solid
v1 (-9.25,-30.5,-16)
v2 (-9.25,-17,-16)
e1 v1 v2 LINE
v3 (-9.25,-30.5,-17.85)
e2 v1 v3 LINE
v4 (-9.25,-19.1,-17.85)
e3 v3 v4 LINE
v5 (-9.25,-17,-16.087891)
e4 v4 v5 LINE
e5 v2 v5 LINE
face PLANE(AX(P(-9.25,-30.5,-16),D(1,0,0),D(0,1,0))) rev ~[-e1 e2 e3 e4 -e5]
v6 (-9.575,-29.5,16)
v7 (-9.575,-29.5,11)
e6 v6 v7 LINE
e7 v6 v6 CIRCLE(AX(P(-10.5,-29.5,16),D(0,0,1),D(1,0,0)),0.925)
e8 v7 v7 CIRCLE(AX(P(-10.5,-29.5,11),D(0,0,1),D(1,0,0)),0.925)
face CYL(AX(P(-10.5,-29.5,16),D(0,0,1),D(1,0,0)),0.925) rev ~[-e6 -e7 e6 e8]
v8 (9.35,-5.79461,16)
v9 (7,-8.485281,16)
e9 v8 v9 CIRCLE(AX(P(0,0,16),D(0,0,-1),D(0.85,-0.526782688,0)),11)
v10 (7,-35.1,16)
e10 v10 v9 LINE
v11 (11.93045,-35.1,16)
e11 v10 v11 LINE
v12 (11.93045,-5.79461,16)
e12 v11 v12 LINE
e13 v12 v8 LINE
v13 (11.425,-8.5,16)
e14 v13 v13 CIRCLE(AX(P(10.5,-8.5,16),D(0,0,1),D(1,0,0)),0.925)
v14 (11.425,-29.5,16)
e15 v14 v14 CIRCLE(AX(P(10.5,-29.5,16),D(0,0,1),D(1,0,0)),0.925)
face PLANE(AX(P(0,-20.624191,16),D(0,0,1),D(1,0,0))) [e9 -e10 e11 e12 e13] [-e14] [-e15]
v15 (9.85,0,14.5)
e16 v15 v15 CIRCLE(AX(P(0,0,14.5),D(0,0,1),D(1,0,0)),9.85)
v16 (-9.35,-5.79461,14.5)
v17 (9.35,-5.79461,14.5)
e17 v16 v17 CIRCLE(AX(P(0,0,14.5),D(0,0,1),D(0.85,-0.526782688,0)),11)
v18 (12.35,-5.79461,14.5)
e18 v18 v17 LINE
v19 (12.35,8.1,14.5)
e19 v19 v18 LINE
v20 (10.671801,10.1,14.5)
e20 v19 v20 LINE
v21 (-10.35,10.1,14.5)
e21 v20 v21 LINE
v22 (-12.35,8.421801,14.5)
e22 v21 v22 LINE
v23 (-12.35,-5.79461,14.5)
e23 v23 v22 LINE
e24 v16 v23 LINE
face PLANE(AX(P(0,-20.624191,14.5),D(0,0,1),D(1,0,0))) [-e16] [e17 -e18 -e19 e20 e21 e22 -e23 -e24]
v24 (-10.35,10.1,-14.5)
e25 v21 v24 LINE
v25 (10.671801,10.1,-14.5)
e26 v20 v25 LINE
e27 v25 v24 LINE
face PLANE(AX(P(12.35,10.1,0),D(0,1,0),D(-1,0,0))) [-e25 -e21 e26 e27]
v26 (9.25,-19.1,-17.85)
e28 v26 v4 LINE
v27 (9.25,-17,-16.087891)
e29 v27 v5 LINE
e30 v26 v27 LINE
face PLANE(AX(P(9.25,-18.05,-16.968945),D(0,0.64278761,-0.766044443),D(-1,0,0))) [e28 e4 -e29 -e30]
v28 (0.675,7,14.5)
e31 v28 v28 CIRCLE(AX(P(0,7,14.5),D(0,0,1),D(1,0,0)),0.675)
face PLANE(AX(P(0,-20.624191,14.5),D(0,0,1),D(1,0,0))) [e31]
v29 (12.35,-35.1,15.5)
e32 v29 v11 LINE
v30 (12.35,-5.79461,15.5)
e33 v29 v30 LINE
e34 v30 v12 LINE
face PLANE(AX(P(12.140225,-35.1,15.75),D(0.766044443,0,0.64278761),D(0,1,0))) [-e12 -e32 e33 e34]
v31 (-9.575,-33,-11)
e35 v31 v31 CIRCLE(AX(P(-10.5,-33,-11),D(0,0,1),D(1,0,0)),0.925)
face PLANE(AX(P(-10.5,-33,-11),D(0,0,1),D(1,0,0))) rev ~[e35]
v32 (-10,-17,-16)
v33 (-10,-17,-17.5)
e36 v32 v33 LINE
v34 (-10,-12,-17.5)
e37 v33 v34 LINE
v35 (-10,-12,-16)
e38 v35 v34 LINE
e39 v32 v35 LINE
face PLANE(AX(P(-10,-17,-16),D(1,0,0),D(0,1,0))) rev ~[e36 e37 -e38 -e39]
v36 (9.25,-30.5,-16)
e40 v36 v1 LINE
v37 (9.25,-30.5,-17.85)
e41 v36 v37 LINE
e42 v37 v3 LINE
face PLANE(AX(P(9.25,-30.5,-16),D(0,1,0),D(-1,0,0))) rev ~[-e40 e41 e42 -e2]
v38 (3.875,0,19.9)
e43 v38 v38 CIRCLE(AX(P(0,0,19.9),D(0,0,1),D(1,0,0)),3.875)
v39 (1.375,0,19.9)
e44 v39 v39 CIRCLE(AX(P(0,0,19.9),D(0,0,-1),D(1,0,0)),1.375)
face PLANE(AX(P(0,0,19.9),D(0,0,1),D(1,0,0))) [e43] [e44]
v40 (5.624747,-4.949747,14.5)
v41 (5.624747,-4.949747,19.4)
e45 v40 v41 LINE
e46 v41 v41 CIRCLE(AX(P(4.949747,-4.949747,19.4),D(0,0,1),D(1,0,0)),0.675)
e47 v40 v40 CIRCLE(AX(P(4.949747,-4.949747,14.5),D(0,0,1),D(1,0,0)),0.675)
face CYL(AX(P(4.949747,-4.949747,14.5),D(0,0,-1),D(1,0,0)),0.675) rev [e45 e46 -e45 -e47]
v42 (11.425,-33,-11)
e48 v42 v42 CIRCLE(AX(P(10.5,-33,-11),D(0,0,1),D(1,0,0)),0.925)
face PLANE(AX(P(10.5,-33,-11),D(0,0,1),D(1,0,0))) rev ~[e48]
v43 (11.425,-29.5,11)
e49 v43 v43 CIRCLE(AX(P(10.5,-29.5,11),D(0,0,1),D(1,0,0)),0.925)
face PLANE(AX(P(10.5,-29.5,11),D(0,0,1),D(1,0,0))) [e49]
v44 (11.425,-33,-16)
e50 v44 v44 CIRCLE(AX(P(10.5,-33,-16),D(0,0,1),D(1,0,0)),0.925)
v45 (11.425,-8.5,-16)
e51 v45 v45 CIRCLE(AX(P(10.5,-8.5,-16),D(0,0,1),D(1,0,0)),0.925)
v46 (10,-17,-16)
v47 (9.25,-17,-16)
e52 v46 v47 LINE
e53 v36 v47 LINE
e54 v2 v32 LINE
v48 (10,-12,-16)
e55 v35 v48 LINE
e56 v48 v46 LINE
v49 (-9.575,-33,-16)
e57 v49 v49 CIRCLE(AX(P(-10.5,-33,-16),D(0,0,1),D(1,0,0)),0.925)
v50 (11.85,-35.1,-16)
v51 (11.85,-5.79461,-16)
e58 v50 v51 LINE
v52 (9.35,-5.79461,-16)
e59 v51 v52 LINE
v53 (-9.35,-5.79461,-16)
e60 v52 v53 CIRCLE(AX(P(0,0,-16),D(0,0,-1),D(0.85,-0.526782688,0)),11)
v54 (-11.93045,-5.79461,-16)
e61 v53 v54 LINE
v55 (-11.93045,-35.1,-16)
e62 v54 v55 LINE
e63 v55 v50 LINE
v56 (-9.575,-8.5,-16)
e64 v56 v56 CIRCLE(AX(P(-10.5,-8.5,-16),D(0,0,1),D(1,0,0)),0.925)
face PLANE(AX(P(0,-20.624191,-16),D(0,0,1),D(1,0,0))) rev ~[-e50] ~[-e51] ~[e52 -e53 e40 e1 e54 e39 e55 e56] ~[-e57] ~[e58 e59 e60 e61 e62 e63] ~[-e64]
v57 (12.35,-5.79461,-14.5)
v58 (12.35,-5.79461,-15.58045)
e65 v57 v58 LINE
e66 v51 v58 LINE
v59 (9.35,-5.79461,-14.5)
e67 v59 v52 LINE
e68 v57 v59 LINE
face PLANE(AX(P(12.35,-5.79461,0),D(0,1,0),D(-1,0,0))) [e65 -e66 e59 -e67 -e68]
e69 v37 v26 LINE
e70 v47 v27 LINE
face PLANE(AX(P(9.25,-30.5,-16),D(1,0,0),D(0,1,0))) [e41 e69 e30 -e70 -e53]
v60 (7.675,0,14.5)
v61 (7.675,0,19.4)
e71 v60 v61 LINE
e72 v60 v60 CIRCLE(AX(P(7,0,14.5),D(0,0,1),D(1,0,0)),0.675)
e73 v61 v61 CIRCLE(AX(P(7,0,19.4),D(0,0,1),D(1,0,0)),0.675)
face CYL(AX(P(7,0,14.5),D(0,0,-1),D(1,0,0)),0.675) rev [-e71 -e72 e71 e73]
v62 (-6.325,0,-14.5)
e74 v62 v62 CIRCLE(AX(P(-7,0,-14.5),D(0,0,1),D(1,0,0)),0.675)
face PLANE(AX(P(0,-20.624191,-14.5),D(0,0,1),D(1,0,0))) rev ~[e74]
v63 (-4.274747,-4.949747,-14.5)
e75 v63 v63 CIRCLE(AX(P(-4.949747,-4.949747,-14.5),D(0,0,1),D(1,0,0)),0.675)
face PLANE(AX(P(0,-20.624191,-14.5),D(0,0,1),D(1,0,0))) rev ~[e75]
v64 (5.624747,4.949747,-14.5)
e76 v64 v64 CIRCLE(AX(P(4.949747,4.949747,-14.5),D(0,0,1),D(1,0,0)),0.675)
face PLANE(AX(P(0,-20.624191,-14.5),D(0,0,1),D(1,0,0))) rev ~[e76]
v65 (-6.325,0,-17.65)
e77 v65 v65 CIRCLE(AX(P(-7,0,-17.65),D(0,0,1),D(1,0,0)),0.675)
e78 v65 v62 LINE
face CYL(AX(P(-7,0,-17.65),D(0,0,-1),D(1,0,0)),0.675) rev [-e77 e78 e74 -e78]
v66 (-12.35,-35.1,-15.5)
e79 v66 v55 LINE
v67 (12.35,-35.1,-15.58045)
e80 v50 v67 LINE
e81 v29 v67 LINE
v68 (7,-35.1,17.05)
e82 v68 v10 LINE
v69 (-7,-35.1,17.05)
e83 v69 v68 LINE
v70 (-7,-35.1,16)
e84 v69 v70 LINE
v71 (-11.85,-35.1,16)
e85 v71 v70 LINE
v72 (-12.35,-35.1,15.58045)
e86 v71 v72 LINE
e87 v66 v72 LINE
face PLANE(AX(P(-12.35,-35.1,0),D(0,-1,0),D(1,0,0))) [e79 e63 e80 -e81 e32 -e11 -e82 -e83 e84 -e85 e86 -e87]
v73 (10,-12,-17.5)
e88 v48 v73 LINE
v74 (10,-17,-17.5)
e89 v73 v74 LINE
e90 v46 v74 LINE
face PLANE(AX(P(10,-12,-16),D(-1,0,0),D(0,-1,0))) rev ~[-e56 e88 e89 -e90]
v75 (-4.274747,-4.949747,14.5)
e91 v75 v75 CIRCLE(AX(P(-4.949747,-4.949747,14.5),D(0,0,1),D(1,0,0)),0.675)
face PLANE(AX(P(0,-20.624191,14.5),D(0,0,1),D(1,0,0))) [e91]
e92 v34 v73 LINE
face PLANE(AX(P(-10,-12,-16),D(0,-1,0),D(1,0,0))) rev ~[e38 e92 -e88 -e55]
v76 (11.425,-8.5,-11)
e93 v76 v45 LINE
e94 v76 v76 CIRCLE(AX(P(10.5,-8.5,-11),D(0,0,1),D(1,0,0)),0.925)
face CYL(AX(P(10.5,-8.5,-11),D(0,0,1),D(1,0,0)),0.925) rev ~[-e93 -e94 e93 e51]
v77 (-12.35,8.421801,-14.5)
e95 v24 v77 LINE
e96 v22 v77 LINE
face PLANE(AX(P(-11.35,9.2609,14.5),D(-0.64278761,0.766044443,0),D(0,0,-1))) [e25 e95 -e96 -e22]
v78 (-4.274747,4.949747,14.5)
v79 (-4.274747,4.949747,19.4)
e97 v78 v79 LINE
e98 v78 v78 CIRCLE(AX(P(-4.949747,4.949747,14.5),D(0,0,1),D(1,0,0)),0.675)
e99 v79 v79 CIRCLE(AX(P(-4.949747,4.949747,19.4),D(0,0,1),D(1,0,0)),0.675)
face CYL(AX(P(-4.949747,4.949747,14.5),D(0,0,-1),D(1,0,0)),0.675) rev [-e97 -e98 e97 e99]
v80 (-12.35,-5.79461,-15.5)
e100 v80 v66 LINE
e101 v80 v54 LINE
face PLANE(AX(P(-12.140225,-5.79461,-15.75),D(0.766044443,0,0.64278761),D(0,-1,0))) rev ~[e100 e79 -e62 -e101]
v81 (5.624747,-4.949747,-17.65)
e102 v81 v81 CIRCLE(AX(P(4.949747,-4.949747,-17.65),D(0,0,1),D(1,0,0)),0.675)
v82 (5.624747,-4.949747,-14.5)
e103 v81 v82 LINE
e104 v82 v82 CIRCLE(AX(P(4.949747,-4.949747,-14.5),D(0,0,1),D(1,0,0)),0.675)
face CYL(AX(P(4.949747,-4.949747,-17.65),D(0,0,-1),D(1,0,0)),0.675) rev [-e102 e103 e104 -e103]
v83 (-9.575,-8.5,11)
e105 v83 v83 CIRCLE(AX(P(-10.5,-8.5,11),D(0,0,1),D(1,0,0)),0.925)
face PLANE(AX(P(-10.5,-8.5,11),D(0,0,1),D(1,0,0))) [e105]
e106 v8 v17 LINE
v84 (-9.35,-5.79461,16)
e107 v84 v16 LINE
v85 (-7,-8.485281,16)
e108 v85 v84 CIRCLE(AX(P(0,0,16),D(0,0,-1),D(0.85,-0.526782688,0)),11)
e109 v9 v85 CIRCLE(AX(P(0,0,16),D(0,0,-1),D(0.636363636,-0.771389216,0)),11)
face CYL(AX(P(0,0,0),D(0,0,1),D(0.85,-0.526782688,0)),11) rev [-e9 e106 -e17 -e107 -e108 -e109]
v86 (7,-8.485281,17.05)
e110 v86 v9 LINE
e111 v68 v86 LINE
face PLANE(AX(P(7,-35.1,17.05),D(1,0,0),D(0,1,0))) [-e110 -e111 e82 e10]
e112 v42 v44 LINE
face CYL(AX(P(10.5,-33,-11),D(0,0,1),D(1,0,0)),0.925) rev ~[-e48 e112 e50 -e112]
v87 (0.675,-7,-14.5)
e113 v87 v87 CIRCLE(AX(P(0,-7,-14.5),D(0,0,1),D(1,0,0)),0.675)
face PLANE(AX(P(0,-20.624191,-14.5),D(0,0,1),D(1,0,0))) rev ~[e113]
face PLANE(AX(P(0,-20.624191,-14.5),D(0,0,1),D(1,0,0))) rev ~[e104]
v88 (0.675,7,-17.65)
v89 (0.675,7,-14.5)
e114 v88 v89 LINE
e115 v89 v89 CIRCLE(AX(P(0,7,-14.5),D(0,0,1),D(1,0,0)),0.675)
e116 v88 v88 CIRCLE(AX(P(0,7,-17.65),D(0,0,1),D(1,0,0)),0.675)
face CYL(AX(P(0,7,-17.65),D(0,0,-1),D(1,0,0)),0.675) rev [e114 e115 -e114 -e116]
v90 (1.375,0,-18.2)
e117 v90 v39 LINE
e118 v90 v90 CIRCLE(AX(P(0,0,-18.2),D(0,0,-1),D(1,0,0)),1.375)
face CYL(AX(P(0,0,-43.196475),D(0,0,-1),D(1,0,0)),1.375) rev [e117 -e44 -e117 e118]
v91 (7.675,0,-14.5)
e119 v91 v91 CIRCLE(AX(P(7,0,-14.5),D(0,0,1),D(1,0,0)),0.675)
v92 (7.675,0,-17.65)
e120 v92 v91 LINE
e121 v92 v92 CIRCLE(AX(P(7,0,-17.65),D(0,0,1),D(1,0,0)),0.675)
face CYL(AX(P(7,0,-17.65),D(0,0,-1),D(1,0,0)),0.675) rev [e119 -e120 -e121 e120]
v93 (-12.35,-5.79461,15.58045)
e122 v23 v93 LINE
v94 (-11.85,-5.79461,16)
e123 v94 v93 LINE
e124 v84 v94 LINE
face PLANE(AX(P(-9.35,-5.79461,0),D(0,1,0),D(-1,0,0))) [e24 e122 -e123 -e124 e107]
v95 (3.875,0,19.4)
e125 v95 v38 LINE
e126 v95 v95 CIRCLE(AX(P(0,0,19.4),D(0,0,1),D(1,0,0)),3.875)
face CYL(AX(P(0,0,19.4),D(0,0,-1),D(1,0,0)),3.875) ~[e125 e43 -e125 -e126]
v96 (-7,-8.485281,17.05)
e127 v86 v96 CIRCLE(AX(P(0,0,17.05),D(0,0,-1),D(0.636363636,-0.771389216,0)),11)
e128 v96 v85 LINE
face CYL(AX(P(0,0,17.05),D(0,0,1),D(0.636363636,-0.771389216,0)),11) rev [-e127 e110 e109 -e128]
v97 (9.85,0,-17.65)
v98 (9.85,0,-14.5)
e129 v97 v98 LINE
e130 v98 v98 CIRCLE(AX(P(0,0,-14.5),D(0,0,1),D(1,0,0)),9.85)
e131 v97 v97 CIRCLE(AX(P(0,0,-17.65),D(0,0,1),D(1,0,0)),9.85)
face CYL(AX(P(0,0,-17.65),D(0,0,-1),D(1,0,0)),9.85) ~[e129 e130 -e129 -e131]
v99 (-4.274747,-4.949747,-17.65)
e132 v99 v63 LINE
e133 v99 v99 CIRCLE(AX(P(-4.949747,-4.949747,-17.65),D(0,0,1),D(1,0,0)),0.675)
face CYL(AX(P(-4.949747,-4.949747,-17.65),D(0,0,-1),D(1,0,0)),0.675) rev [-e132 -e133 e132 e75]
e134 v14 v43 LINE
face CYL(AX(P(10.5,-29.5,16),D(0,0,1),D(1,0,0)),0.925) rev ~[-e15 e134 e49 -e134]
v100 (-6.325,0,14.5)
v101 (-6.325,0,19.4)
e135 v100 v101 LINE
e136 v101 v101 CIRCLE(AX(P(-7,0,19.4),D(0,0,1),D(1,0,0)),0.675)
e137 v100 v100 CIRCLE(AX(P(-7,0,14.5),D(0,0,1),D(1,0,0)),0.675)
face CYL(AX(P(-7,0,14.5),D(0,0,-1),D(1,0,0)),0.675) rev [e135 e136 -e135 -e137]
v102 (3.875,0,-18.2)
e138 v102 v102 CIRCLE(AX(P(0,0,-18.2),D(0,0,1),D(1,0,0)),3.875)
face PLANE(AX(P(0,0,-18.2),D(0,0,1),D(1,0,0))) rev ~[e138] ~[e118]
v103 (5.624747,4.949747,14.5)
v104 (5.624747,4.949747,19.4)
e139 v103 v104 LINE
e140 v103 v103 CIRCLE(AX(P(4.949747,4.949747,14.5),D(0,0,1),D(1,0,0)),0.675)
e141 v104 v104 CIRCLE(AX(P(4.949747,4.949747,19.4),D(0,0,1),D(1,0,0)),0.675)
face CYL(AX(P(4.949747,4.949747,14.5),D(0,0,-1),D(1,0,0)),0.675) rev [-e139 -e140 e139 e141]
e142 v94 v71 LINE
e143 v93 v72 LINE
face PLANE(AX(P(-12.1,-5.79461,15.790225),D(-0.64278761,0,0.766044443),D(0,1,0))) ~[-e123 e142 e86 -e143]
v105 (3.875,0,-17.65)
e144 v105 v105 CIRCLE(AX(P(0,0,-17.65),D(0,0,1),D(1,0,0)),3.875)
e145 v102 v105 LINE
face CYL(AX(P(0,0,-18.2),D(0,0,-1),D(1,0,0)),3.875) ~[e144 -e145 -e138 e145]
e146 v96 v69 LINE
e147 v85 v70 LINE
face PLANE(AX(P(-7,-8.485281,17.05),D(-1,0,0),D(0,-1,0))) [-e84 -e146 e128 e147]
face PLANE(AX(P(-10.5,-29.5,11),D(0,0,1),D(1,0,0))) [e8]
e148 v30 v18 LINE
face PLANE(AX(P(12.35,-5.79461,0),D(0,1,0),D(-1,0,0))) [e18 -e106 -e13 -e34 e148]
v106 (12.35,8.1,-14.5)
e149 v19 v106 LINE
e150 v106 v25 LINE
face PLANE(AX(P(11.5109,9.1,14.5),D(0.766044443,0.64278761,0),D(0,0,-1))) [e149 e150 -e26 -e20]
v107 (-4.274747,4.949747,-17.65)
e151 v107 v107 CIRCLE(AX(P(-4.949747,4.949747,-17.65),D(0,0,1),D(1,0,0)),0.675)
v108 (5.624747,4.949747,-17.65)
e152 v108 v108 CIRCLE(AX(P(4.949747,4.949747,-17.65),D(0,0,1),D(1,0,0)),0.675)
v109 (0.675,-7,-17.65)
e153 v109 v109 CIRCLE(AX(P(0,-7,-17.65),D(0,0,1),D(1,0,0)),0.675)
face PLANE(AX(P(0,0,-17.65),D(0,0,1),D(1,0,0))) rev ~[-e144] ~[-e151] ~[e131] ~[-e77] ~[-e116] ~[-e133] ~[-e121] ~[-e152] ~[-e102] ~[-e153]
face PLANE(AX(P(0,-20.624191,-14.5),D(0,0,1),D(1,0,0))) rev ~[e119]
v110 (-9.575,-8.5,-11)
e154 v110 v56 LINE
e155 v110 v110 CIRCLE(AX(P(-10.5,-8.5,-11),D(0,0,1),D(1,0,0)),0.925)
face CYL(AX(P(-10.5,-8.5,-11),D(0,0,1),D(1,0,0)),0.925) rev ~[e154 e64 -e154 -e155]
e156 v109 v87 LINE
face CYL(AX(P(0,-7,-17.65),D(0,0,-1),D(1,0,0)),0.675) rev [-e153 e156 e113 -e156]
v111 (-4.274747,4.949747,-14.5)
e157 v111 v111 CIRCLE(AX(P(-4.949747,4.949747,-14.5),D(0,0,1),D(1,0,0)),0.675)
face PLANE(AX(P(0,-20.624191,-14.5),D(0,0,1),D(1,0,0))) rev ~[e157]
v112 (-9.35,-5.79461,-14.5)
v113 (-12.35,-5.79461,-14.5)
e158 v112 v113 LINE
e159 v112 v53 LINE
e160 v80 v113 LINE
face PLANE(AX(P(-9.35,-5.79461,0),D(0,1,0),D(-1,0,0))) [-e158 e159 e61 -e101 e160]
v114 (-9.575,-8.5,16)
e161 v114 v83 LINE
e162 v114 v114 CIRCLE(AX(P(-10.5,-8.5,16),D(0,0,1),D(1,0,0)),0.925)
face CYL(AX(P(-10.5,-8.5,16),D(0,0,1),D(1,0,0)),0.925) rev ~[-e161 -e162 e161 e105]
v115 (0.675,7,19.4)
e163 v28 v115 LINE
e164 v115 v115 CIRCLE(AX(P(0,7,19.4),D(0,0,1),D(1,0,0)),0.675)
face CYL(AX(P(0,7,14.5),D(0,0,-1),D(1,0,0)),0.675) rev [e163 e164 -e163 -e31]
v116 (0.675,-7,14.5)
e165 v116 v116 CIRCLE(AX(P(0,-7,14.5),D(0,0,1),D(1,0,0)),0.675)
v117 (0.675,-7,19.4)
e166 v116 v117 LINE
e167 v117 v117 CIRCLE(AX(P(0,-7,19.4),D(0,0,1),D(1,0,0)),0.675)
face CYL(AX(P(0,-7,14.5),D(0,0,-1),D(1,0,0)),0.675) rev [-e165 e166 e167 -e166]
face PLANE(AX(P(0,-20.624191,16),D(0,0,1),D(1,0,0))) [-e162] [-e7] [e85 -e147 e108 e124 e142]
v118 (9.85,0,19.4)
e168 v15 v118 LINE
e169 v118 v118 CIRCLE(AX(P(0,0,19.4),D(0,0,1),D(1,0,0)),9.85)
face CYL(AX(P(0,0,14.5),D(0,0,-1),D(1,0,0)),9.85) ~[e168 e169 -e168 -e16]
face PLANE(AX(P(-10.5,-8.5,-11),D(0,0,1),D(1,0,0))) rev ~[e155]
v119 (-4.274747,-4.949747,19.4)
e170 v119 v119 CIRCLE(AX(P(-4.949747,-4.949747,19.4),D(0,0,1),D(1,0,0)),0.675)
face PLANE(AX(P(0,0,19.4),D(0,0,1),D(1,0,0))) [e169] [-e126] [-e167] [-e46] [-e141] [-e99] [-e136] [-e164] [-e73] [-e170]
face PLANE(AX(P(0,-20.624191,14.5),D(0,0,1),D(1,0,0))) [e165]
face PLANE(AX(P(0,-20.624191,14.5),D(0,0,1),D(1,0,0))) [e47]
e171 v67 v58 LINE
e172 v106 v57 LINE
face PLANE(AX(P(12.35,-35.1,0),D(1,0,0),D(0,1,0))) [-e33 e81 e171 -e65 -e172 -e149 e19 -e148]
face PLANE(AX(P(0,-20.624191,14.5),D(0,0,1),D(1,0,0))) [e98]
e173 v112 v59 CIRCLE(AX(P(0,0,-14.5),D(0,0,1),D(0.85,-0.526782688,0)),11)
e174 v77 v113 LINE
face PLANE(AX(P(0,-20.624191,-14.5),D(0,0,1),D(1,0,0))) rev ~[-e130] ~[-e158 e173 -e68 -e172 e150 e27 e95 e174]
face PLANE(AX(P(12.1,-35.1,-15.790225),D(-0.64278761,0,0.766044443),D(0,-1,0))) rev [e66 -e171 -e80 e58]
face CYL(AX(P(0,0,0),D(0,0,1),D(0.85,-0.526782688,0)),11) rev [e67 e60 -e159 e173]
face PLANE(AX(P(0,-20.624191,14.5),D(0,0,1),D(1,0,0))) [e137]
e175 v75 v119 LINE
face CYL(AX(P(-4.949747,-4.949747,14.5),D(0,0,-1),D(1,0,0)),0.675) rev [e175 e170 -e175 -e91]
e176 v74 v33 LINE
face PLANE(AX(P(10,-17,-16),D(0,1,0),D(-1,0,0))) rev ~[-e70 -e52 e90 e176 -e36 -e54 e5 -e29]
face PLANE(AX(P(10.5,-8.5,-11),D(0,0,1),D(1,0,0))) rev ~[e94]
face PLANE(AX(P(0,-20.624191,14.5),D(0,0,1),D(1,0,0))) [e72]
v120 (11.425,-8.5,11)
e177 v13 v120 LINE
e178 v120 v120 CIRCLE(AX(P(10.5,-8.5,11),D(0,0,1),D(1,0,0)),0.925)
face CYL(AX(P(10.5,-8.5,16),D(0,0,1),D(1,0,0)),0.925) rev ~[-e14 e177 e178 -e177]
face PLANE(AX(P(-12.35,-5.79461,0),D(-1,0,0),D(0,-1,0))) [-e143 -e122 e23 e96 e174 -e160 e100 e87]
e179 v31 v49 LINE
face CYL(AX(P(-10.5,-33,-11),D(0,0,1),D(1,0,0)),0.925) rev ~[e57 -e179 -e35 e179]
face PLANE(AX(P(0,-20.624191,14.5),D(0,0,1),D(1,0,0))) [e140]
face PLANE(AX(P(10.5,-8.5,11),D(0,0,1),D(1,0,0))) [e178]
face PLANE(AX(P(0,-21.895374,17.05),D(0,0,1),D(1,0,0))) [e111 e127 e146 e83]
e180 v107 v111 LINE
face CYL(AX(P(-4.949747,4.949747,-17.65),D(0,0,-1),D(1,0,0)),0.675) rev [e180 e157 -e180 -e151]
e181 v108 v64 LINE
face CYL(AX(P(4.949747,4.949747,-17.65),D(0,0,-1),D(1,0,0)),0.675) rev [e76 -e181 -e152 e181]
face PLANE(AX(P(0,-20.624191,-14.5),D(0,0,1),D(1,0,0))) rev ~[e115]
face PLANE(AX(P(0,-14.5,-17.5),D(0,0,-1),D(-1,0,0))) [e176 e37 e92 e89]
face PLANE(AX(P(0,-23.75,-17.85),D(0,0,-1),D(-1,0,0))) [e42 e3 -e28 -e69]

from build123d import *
from OCP.BRepFilletAPI import BRepFilletAPI_MakeChamfer

# Parameters (mm, degrees)
SKETCH1_R               = 9.85
SKETCH1_R_2             = 0.675
BOSS_EXTRUDE1_DEPTH     = 14.5
BOSS_EXTRUDE2_DEPTH     = 16
BOSS_EXTRUDE3_START     = 14.5
SKETCH1_4_R             = 9.85
SKETCH1_4_R_2           = 0.675
BOSS_EXTRUDE3_DEPTH     = 4.9
BOSS_EXTRUDE4_START     = -17.65
SKETCH1_5_R             = 9.85
SKETCH1_5_R_2           = 0.675
BOSS_EXTRUDE4_DEPTH     = 3.15
BOSS_EXTRUDE5_START     = 1.05
BOSS_EXTRUDE5_DEPTH     = 1.05
SKETCH3_W               = 18.5
SKETCH3_H               = 13.5
BOSS_EXTRUDE6_DEPTH     = 1.85
CHAMFER1_SIZE           = 2.1
CHAMFER1_SIZE2          = 1.762109225
BOSS_EXTRUDE7_DEPTH     = 1.5
CUT_EXTRUDE1_START      = 16
SKETCH4_R               = 0.925
CUT_EXTRUDE1_DEPTH      = 5
CUT_EXTRUDE2_START      = -11
SKETCH4_3_R             = 0.925
CUT_EXTRUDE2_DEPTH      = 5
CHAMFER2_SIZE           = 2
CHAMFER2_SIZE2          = 1.678199262
CHAMFER3_SIZE           = 0.5
CHAMFER3_SIZE2          = 0.419549816
BOSS_EXTRUDE8_START     = 19.4
SKETCH5_R               = 3.875
BOSS_EXTRUDE8_DEPTH     = 0.5
BOSS_EXTRUDE9_START     = -18.2
SKETCH5_2_R             = 3.875
BOSS_EXTRUDE9_DEPTH     = 0.55
CUT_EXTRUDE3_DEPTH      = 43.196474971
CUT_EXTRUDE3_DEPTH_BACK = 43.196474971
SKETCH6_R               = 1.375


with BuildPart() as part:
    # Sketch1 → Boss-Extrude1 (new, symmetric)
    # profile 1 of 11: a face of its own
    with BuildSketch(Plane.XY):
        with BuildLine():
            Line((-12.35, 10.1), (-12.35, -5.794609564))
            Line((-12.35, -5.794609564), (-9.35, -5.794609564))
            ThreePointArc((-9.35, -5.794609564), (0, -11), (9.35, -5.794609564))
            Line((9.35, -5.794609564), (12.35, -5.794609564))
            Line((12.35, -5.794609564), (12.35, 10.1))
            Line((12.35, 10.1), (-12.35, 10.1))
        make_face()
        Circle(SKETCH1_R, mode=Mode.SUBTRACT)
    # profile 2 of 11: a face of its own
    with BuildSketch(Plane.XY):
        Circle(SKETCH1_R)
        with Locations((-4.949747468, 4.949747468)):
            Circle(SKETCH1_R_2, mode=Mode.SUBTRACT)
        with Locations((-7, 0)):
            Circle(SKETCH1_R_2, mode=Mode.SUBTRACT)
        with Locations((-4.949747468, -4.949747468)):
            Circle(SKETCH1_R_2, mode=Mode.SUBTRACT)
        with Locations((0, -7)):
            Circle(SKETCH1_R_2, mode=Mode.SUBTRACT)
        with Locations((4.949747468, -4.949747468)):
            Circle(SKETCH1_R_2, mode=Mode.SUBTRACT)
        with Locations((7, 0)):
            Circle(SKETCH1_R_2, mode=Mode.SUBTRACT)
        with Locations((4.949747468, 4.949747468)):
            Circle(SKETCH1_R_2, mode=Mode.SUBTRACT)
        with Locations((0, 7)):
            Circle(SKETCH1_R_2, mode=Mode.SUBTRACT)
    # profile 3 of 11: a face of its own
    with BuildSketch(Plane.XY):
        with Locations((-4.949747468, 4.949747468)):
            Circle(SKETCH1_R_2)
    # profile 4 of 11: a face of its own
    with BuildSketch(Plane.XY):
        with Locations((-7, 0)):
            Circle(SKETCH1_R_2)
    # profile 5 of 11: a face of its own
    with BuildSketch(Plane.XY):
        with Locations((-4.949747468, -4.949747468)):
            Circle(SKETCH1_R_2)
    # profile 6 of 11: a face of its own
    with BuildSketch(Plane.XY):
        with Locations((0, -7)):
            Circle(SKETCH1_R_2)
    # profile 7 of 11: a face of its own
    with BuildSketch(Plane.XY):
        with Locations((4.949747468, -4.949747468)):
            Circle(SKETCH1_R_2)
    # profile 8 of 11: a face of its own
    with BuildSketch(Plane.XY):
        with Locations((7, 0)):
            Circle(SKETCH1_R_2)
    # profile 9 of 11: a face of its own
    with BuildSketch(Plane.XY):
        with Locations((4.949747468, 4.949747468)):
            Circle(SKETCH1_R_2)
    # profile 10 of 11: a face of its own
    with BuildSketch(Plane.XY):
        with Locations((0, 7)):
            Circle(SKETCH1_R_2)
    # profile 11 of 11: a face of its own
    with BuildSketch(Plane.XY):
        with BuildLine():
            Line((-9.35, -5.794609564), (-12.35, -5.794609564))
            Line((-12.35, -5.794609564), (-12.35, -35.1))
            Line((-12.35, -35.1), (12.35, -35.1))
            Line((12.35, -35.1), (12.35, -5.794609564))
            Line((12.35, -5.794609564), (9.35, -5.794609564))
            ThreePointArc((9.35, -5.794609564), (0, -11), (-9.35, -5.794609564))
        make_face()
    extrude(amount=BOSS_EXTRUDE1_DEPTH, both=True)

    # Sketch1<3> → Boss-Extrude2 (add, symmetric)
    with BuildSketch(Plane.XY):
        with BuildLine():
            Line((-9.35, -5.794609564), (-12.35, -5.794609564))
            Line((-12.35, -5.794609564), (-12.35, -35.1))
            Line((-12.35, -35.1), (12.35, -35.1))
            Line((12.35, -35.1), (12.35, -5.794609564))
            Line((12.35, -5.794609564), (9.35, -5.794609564))
            ThreePointArc((9.35, -5.794609564), (0, -11), (-9.35, -5.794609564))
        make_face()
    extrude(amount=BOSS_EXTRUDE2_DEPTH, both=True)

    # Sketch1<4> → Boss-Extrude3 (add)
    with BuildSketch(Plane.XY.offset(BOSS_EXTRUDE3_START)):
        Circle(SKETCH1_4_R)
        with Locations((0, 7)):
            Circle(SKETCH1_4_R_2, mode=Mode.SUBTRACT)
        with Locations((4.949747468, 4.949747468)):
            Circle(SKETCH1_4_R_2, mode=Mode.SUBTRACT)
        with Locations((7, 0)):
            Circle(SKETCH1_4_R_2, mode=Mode.SUBTRACT)
        with Locations((4.949747468, -4.949747468)):
            Circle(SKETCH1_4_R_2, mode=Mode.SUBTRACT)
        with Locations((0, -7)):
            Circle(SKETCH1_4_R_2, mode=Mode.SUBTRACT)
        with Locations((-4.949747468, -4.949747468)):
            Circle(SKETCH1_4_R_2, mode=Mode.SUBTRACT)
        with Locations((-7, 0)):
            Circle(SKETCH1_4_R_2, mode=Mode.SUBTRACT)
        with Locations((-4.949747468, 4.949747468)):
            Circle(SKETCH1_4_R_2, mode=Mode.SUBTRACT)
    extrude(amount=BOSS_EXTRUDE3_DEPTH)

    # Sketch1<5> → Boss-Extrude4 (add)
    with BuildSketch(Plane.XY.offset(BOSS_EXTRUDE4_START)):
        Circle(SKETCH1_5_R)
        with Locations((0, 7)):
            Circle(SKETCH1_5_R_2, mode=Mode.SUBTRACT)
        with Locations((4.949747468, 4.949747468)):
            Circle(SKETCH1_5_R_2, mode=Mode.SUBTRACT)
        with Locations((7, 0)):
            Circle(SKETCH1_5_R_2, mode=Mode.SUBTRACT)
        with Locations((4.949747468, -4.949747468)):
            Circle(SKETCH1_5_R_2, mode=Mode.SUBTRACT)
        with Locations((0, -7)):
            Circle(SKETCH1_5_R_2, mode=Mode.SUBTRACT)
        with Locations((-4.949747468, -4.949747468)):
            Circle(SKETCH1_5_R_2, mode=Mode.SUBTRACT)
        with Locations((-7, 0)):
            Circle(SKETCH1_5_R_2, mode=Mode.SUBTRACT)
        with Locations((-4.949747468, 4.949747468)):
            Circle(SKETCH1_5_R_2, mode=Mode.SUBTRACT)
    extrude(amount=BOSS_EXTRUDE4_DEPTH)

    # Sketch2 → Boss-Extrude5 (add)
    with BuildSketch(Plane.XY.offset(16).offset(BOSS_EXTRUDE5_START)):
        with BuildLine():
            Line((-7, -8.485281374), (-7, -35.1))
            Line((-7, -35.1), (7, -35.1))
            Line((7, -35.1), (7, -8.485281374))
            ThreePointArc((7, -8.485281374), (0, -11), (-7, -8.485281374))
        make_face()
    extrude(amount=-BOSS_EXTRUDE5_DEPTH)

    # Sketch3 → Boss-Extrude6 (add)
    with BuildSketch(Plane(origin=(0, 0, -16), x_dir=(-1, 0, 0), z_dir=(0, 0, -1))):
        with Locations((0, -23.75)):
            Rectangle(SKETCH3_W, SKETCH3_H)
    extrude(amount=BOSS_EXTRUDE6_DEPTH)

    # Chamfer1
    chamfer1_edges = [part.edges().sort_by_distance(p)[0] for p in [
        (0, -17, -17.85),
    ]]
    chamfer1_side = [part.faces().sort_by_distance(p)[0] for p in [
        (0, -23.75, -17.85),
    ]]
    chamfer(chamfer1_edges, length=CHAMFER1_SIZE, length2=CHAMFER1_SIZE2, reference=chamfer1_side[0])

    # Sketch3<3> → Boss-Extrude7 (add)
    with BuildSketch(Plane(origin=(0, 0, -16), x_dir=(-1, 0, 0), z_dir=(0, 0, -1))):
        Polygon((-10, -17), (-9.25, -17), (9.25, -17), (10, -17), (10, -12), (-10, -12), align=None)
    extrude(amount=BOSS_EXTRUDE7_DEPTH)

    # Sketch4 → Cut-Extrude1 (cut)
    with BuildSketch(Plane.XY.offset(CUT_EXTRUDE1_START)):
        with Locations((-10.5, -8.5)):
            Circle(SKETCH4_R)
        with Locations((10.5, -8.5)):
            Circle(SKETCH4_R)
        with Locations((-10.5, -29.5)):
            Circle(SKETCH4_R)
        with Locations((10.5, -29.5)):
            Circle(SKETCH4_R)
    extrude(amount=-CUT_EXTRUDE1_DEPTH, mode=Mode.SUBTRACT)

    # Sketch4<3> → Cut-Extrude2 (cut)
    with BuildSketch(Plane.XY.offset(CUT_EXTRUDE2_START)):
        with Locations((10.5, -8.5)):
            Circle(SKETCH4_3_R)
        with Locations((-10.5, -8.5)):
            Circle(SKETCH4_3_R)
        with Locations((-10.5, -33)):
            Circle(SKETCH4_3_R)
        with Locations((10.5, -33)):
            Circle(SKETCH4_3_R)
    extrude(amount=-CUT_EXTRUDE2_DEPTH, mode=Mode.SUBTRACT)

    # Chamfer2: one chamfer whose edges measure the first distance from different faces: ONE call of the kernel's chamfer builder (chamfer() names one face for all edges)
    chamfer2_edges_1 = [part.edges().sort_by_distance(p)[0] for p in [
        (-12.35, 10.1, 0),
    ]]
    chamfer2_side_1 = [part.faces().sort_by_distance(p)[0] for p in [
        (0, 10.1, 0),
    ]]
    chamfer2_edges_2 = [part.edges().sort_by_distance(p)[0] for p in [
        (12.35, 10.1, 0),
    ]]
    chamfer2_side_2 = [part.faces().sort_by_distance(p)[0] for p in [
        (12.35, -12.999527083, 0),
    ]]
    chamfer2 = BRepFilletAPI_MakeChamfer(part.part.solid().wrapped)
    for e in chamfer2_edges_1:
        chamfer2.Add(CHAMFER2_SIZE, CHAMFER2_SIZE2, e.wrapped, chamfer2_side_1[0].wrapped)  # the first distance lies on this face
    for e in chamfer2_edges_2:
        chamfer2.Add(CHAMFER2_SIZE, CHAMFER2_SIZE2, e.wrapped, chamfer2_side_2[0].wrapped)  # the first distance lies on this face
    add(Compound.cast(chamfer2.Shape()), mode=Mode.REPLACE)

    # Chamfer3: one chamfer whose edges measure the first distance from different faces: ONE call of the kernel's chamfer builder (chamfer() names one face for all edges)
    chamfer3_edges_1 = [part.edges().sort_by_distance(p)[0] for p in [
        (12.35, -20.447304782, -16),
    ]]
    chamfer3_side_1 = [part.faces().sort_by_distance(p)[0] for p in [
        (10.85, -6.177871343, -16),
    ]]
    chamfer3_edges_2 = [part.edges().sort_by_distance(p)[0] for p in [
        (-12.35, -20.447304782, 16),
    ]]
    chamfer3_side_2 = [part.faces().sort_by_distance(p)[0] for p in [
        (-9.6888762, -20.825200729, 16),
    ]]
    chamfer3_edges_3 = [part.edges().sort_by_distance(p)[0] for p in [
        (12.35, -20.447304782, 16),
    ]]
    chamfer3_side_3 = [part.faces().sort_by_distance(p)[0] for p in [
        (12.35, -13.955562818, 0),
    ]]
    chamfer3_edges_4 = [part.edges().sort_by_distance(p)[0] for p in [
        (-12.35, -20.447304782, -16),
    ]]
    chamfer3_side_4 = [part.faces().sort_by_distance(p)[0] for p in [
        (-12.35, -13.801991321, 0),
    ]]
    chamfer3 = BRepFilletAPI_MakeChamfer(part.part.solid().wrapped)
    for e in chamfer3_edges_1:
        chamfer3.Add(CHAMFER3_SIZE, CHAMFER3_SIZE2, e.wrapped, chamfer3_side_1[0].wrapped)  # the first distance lies on this face
    for e in chamfer3_edges_2:
        chamfer3.Add(CHAMFER3_SIZE, CHAMFER3_SIZE2, e.wrapped, chamfer3_side_2[0].wrapped)  # the first distance lies on this face
    for e in chamfer3_edges_3:
        chamfer3.Add(CHAMFER3_SIZE, CHAMFER3_SIZE2, e.wrapped, chamfer3_side_3[0].wrapped)  # the first distance lies on this face
    for e in chamfer3_edges_4:
        chamfer3.Add(CHAMFER3_SIZE, CHAMFER3_SIZE2, e.wrapped, chamfer3_side_4[0].wrapped)  # the first distance lies on this face
    add(Compound.cast(chamfer3.Shape()), mode=Mode.REPLACE)

    # Sketch5 → Boss-Extrude8 (add)
    with BuildSketch(Plane.XY.offset(BOSS_EXTRUDE8_START)):
        Circle(SKETCH5_R)
    extrude(amount=BOSS_EXTRUDE8_DEPTH)

    # Sketch5<2> → Boss-Extrude9 (add)
    with BuildSketch(Plane.XY.offset(BOSS_EXTRUDE9_START)):
        Circle(SKETCH5_2_R)
    extrude(amount=BOSS_EXTRUDE9_DEPTH)

    # Sketch6 → Cut-Extrude3 (cut, two sides: drawn at the far end of the back side and taken through both)
    with BuildSketch(Plane.XY.offset(-CUT_EXTRUDE3_DEPTH_BACK)):
        Circle(SKETCH6_R)
    extrude(amount=CUT_EXTRUDE3_DEPTH + CUT_EXTRUDE3_DEPTH_BACK, mode=Mode.SUBTRACT)


solid = part.part
